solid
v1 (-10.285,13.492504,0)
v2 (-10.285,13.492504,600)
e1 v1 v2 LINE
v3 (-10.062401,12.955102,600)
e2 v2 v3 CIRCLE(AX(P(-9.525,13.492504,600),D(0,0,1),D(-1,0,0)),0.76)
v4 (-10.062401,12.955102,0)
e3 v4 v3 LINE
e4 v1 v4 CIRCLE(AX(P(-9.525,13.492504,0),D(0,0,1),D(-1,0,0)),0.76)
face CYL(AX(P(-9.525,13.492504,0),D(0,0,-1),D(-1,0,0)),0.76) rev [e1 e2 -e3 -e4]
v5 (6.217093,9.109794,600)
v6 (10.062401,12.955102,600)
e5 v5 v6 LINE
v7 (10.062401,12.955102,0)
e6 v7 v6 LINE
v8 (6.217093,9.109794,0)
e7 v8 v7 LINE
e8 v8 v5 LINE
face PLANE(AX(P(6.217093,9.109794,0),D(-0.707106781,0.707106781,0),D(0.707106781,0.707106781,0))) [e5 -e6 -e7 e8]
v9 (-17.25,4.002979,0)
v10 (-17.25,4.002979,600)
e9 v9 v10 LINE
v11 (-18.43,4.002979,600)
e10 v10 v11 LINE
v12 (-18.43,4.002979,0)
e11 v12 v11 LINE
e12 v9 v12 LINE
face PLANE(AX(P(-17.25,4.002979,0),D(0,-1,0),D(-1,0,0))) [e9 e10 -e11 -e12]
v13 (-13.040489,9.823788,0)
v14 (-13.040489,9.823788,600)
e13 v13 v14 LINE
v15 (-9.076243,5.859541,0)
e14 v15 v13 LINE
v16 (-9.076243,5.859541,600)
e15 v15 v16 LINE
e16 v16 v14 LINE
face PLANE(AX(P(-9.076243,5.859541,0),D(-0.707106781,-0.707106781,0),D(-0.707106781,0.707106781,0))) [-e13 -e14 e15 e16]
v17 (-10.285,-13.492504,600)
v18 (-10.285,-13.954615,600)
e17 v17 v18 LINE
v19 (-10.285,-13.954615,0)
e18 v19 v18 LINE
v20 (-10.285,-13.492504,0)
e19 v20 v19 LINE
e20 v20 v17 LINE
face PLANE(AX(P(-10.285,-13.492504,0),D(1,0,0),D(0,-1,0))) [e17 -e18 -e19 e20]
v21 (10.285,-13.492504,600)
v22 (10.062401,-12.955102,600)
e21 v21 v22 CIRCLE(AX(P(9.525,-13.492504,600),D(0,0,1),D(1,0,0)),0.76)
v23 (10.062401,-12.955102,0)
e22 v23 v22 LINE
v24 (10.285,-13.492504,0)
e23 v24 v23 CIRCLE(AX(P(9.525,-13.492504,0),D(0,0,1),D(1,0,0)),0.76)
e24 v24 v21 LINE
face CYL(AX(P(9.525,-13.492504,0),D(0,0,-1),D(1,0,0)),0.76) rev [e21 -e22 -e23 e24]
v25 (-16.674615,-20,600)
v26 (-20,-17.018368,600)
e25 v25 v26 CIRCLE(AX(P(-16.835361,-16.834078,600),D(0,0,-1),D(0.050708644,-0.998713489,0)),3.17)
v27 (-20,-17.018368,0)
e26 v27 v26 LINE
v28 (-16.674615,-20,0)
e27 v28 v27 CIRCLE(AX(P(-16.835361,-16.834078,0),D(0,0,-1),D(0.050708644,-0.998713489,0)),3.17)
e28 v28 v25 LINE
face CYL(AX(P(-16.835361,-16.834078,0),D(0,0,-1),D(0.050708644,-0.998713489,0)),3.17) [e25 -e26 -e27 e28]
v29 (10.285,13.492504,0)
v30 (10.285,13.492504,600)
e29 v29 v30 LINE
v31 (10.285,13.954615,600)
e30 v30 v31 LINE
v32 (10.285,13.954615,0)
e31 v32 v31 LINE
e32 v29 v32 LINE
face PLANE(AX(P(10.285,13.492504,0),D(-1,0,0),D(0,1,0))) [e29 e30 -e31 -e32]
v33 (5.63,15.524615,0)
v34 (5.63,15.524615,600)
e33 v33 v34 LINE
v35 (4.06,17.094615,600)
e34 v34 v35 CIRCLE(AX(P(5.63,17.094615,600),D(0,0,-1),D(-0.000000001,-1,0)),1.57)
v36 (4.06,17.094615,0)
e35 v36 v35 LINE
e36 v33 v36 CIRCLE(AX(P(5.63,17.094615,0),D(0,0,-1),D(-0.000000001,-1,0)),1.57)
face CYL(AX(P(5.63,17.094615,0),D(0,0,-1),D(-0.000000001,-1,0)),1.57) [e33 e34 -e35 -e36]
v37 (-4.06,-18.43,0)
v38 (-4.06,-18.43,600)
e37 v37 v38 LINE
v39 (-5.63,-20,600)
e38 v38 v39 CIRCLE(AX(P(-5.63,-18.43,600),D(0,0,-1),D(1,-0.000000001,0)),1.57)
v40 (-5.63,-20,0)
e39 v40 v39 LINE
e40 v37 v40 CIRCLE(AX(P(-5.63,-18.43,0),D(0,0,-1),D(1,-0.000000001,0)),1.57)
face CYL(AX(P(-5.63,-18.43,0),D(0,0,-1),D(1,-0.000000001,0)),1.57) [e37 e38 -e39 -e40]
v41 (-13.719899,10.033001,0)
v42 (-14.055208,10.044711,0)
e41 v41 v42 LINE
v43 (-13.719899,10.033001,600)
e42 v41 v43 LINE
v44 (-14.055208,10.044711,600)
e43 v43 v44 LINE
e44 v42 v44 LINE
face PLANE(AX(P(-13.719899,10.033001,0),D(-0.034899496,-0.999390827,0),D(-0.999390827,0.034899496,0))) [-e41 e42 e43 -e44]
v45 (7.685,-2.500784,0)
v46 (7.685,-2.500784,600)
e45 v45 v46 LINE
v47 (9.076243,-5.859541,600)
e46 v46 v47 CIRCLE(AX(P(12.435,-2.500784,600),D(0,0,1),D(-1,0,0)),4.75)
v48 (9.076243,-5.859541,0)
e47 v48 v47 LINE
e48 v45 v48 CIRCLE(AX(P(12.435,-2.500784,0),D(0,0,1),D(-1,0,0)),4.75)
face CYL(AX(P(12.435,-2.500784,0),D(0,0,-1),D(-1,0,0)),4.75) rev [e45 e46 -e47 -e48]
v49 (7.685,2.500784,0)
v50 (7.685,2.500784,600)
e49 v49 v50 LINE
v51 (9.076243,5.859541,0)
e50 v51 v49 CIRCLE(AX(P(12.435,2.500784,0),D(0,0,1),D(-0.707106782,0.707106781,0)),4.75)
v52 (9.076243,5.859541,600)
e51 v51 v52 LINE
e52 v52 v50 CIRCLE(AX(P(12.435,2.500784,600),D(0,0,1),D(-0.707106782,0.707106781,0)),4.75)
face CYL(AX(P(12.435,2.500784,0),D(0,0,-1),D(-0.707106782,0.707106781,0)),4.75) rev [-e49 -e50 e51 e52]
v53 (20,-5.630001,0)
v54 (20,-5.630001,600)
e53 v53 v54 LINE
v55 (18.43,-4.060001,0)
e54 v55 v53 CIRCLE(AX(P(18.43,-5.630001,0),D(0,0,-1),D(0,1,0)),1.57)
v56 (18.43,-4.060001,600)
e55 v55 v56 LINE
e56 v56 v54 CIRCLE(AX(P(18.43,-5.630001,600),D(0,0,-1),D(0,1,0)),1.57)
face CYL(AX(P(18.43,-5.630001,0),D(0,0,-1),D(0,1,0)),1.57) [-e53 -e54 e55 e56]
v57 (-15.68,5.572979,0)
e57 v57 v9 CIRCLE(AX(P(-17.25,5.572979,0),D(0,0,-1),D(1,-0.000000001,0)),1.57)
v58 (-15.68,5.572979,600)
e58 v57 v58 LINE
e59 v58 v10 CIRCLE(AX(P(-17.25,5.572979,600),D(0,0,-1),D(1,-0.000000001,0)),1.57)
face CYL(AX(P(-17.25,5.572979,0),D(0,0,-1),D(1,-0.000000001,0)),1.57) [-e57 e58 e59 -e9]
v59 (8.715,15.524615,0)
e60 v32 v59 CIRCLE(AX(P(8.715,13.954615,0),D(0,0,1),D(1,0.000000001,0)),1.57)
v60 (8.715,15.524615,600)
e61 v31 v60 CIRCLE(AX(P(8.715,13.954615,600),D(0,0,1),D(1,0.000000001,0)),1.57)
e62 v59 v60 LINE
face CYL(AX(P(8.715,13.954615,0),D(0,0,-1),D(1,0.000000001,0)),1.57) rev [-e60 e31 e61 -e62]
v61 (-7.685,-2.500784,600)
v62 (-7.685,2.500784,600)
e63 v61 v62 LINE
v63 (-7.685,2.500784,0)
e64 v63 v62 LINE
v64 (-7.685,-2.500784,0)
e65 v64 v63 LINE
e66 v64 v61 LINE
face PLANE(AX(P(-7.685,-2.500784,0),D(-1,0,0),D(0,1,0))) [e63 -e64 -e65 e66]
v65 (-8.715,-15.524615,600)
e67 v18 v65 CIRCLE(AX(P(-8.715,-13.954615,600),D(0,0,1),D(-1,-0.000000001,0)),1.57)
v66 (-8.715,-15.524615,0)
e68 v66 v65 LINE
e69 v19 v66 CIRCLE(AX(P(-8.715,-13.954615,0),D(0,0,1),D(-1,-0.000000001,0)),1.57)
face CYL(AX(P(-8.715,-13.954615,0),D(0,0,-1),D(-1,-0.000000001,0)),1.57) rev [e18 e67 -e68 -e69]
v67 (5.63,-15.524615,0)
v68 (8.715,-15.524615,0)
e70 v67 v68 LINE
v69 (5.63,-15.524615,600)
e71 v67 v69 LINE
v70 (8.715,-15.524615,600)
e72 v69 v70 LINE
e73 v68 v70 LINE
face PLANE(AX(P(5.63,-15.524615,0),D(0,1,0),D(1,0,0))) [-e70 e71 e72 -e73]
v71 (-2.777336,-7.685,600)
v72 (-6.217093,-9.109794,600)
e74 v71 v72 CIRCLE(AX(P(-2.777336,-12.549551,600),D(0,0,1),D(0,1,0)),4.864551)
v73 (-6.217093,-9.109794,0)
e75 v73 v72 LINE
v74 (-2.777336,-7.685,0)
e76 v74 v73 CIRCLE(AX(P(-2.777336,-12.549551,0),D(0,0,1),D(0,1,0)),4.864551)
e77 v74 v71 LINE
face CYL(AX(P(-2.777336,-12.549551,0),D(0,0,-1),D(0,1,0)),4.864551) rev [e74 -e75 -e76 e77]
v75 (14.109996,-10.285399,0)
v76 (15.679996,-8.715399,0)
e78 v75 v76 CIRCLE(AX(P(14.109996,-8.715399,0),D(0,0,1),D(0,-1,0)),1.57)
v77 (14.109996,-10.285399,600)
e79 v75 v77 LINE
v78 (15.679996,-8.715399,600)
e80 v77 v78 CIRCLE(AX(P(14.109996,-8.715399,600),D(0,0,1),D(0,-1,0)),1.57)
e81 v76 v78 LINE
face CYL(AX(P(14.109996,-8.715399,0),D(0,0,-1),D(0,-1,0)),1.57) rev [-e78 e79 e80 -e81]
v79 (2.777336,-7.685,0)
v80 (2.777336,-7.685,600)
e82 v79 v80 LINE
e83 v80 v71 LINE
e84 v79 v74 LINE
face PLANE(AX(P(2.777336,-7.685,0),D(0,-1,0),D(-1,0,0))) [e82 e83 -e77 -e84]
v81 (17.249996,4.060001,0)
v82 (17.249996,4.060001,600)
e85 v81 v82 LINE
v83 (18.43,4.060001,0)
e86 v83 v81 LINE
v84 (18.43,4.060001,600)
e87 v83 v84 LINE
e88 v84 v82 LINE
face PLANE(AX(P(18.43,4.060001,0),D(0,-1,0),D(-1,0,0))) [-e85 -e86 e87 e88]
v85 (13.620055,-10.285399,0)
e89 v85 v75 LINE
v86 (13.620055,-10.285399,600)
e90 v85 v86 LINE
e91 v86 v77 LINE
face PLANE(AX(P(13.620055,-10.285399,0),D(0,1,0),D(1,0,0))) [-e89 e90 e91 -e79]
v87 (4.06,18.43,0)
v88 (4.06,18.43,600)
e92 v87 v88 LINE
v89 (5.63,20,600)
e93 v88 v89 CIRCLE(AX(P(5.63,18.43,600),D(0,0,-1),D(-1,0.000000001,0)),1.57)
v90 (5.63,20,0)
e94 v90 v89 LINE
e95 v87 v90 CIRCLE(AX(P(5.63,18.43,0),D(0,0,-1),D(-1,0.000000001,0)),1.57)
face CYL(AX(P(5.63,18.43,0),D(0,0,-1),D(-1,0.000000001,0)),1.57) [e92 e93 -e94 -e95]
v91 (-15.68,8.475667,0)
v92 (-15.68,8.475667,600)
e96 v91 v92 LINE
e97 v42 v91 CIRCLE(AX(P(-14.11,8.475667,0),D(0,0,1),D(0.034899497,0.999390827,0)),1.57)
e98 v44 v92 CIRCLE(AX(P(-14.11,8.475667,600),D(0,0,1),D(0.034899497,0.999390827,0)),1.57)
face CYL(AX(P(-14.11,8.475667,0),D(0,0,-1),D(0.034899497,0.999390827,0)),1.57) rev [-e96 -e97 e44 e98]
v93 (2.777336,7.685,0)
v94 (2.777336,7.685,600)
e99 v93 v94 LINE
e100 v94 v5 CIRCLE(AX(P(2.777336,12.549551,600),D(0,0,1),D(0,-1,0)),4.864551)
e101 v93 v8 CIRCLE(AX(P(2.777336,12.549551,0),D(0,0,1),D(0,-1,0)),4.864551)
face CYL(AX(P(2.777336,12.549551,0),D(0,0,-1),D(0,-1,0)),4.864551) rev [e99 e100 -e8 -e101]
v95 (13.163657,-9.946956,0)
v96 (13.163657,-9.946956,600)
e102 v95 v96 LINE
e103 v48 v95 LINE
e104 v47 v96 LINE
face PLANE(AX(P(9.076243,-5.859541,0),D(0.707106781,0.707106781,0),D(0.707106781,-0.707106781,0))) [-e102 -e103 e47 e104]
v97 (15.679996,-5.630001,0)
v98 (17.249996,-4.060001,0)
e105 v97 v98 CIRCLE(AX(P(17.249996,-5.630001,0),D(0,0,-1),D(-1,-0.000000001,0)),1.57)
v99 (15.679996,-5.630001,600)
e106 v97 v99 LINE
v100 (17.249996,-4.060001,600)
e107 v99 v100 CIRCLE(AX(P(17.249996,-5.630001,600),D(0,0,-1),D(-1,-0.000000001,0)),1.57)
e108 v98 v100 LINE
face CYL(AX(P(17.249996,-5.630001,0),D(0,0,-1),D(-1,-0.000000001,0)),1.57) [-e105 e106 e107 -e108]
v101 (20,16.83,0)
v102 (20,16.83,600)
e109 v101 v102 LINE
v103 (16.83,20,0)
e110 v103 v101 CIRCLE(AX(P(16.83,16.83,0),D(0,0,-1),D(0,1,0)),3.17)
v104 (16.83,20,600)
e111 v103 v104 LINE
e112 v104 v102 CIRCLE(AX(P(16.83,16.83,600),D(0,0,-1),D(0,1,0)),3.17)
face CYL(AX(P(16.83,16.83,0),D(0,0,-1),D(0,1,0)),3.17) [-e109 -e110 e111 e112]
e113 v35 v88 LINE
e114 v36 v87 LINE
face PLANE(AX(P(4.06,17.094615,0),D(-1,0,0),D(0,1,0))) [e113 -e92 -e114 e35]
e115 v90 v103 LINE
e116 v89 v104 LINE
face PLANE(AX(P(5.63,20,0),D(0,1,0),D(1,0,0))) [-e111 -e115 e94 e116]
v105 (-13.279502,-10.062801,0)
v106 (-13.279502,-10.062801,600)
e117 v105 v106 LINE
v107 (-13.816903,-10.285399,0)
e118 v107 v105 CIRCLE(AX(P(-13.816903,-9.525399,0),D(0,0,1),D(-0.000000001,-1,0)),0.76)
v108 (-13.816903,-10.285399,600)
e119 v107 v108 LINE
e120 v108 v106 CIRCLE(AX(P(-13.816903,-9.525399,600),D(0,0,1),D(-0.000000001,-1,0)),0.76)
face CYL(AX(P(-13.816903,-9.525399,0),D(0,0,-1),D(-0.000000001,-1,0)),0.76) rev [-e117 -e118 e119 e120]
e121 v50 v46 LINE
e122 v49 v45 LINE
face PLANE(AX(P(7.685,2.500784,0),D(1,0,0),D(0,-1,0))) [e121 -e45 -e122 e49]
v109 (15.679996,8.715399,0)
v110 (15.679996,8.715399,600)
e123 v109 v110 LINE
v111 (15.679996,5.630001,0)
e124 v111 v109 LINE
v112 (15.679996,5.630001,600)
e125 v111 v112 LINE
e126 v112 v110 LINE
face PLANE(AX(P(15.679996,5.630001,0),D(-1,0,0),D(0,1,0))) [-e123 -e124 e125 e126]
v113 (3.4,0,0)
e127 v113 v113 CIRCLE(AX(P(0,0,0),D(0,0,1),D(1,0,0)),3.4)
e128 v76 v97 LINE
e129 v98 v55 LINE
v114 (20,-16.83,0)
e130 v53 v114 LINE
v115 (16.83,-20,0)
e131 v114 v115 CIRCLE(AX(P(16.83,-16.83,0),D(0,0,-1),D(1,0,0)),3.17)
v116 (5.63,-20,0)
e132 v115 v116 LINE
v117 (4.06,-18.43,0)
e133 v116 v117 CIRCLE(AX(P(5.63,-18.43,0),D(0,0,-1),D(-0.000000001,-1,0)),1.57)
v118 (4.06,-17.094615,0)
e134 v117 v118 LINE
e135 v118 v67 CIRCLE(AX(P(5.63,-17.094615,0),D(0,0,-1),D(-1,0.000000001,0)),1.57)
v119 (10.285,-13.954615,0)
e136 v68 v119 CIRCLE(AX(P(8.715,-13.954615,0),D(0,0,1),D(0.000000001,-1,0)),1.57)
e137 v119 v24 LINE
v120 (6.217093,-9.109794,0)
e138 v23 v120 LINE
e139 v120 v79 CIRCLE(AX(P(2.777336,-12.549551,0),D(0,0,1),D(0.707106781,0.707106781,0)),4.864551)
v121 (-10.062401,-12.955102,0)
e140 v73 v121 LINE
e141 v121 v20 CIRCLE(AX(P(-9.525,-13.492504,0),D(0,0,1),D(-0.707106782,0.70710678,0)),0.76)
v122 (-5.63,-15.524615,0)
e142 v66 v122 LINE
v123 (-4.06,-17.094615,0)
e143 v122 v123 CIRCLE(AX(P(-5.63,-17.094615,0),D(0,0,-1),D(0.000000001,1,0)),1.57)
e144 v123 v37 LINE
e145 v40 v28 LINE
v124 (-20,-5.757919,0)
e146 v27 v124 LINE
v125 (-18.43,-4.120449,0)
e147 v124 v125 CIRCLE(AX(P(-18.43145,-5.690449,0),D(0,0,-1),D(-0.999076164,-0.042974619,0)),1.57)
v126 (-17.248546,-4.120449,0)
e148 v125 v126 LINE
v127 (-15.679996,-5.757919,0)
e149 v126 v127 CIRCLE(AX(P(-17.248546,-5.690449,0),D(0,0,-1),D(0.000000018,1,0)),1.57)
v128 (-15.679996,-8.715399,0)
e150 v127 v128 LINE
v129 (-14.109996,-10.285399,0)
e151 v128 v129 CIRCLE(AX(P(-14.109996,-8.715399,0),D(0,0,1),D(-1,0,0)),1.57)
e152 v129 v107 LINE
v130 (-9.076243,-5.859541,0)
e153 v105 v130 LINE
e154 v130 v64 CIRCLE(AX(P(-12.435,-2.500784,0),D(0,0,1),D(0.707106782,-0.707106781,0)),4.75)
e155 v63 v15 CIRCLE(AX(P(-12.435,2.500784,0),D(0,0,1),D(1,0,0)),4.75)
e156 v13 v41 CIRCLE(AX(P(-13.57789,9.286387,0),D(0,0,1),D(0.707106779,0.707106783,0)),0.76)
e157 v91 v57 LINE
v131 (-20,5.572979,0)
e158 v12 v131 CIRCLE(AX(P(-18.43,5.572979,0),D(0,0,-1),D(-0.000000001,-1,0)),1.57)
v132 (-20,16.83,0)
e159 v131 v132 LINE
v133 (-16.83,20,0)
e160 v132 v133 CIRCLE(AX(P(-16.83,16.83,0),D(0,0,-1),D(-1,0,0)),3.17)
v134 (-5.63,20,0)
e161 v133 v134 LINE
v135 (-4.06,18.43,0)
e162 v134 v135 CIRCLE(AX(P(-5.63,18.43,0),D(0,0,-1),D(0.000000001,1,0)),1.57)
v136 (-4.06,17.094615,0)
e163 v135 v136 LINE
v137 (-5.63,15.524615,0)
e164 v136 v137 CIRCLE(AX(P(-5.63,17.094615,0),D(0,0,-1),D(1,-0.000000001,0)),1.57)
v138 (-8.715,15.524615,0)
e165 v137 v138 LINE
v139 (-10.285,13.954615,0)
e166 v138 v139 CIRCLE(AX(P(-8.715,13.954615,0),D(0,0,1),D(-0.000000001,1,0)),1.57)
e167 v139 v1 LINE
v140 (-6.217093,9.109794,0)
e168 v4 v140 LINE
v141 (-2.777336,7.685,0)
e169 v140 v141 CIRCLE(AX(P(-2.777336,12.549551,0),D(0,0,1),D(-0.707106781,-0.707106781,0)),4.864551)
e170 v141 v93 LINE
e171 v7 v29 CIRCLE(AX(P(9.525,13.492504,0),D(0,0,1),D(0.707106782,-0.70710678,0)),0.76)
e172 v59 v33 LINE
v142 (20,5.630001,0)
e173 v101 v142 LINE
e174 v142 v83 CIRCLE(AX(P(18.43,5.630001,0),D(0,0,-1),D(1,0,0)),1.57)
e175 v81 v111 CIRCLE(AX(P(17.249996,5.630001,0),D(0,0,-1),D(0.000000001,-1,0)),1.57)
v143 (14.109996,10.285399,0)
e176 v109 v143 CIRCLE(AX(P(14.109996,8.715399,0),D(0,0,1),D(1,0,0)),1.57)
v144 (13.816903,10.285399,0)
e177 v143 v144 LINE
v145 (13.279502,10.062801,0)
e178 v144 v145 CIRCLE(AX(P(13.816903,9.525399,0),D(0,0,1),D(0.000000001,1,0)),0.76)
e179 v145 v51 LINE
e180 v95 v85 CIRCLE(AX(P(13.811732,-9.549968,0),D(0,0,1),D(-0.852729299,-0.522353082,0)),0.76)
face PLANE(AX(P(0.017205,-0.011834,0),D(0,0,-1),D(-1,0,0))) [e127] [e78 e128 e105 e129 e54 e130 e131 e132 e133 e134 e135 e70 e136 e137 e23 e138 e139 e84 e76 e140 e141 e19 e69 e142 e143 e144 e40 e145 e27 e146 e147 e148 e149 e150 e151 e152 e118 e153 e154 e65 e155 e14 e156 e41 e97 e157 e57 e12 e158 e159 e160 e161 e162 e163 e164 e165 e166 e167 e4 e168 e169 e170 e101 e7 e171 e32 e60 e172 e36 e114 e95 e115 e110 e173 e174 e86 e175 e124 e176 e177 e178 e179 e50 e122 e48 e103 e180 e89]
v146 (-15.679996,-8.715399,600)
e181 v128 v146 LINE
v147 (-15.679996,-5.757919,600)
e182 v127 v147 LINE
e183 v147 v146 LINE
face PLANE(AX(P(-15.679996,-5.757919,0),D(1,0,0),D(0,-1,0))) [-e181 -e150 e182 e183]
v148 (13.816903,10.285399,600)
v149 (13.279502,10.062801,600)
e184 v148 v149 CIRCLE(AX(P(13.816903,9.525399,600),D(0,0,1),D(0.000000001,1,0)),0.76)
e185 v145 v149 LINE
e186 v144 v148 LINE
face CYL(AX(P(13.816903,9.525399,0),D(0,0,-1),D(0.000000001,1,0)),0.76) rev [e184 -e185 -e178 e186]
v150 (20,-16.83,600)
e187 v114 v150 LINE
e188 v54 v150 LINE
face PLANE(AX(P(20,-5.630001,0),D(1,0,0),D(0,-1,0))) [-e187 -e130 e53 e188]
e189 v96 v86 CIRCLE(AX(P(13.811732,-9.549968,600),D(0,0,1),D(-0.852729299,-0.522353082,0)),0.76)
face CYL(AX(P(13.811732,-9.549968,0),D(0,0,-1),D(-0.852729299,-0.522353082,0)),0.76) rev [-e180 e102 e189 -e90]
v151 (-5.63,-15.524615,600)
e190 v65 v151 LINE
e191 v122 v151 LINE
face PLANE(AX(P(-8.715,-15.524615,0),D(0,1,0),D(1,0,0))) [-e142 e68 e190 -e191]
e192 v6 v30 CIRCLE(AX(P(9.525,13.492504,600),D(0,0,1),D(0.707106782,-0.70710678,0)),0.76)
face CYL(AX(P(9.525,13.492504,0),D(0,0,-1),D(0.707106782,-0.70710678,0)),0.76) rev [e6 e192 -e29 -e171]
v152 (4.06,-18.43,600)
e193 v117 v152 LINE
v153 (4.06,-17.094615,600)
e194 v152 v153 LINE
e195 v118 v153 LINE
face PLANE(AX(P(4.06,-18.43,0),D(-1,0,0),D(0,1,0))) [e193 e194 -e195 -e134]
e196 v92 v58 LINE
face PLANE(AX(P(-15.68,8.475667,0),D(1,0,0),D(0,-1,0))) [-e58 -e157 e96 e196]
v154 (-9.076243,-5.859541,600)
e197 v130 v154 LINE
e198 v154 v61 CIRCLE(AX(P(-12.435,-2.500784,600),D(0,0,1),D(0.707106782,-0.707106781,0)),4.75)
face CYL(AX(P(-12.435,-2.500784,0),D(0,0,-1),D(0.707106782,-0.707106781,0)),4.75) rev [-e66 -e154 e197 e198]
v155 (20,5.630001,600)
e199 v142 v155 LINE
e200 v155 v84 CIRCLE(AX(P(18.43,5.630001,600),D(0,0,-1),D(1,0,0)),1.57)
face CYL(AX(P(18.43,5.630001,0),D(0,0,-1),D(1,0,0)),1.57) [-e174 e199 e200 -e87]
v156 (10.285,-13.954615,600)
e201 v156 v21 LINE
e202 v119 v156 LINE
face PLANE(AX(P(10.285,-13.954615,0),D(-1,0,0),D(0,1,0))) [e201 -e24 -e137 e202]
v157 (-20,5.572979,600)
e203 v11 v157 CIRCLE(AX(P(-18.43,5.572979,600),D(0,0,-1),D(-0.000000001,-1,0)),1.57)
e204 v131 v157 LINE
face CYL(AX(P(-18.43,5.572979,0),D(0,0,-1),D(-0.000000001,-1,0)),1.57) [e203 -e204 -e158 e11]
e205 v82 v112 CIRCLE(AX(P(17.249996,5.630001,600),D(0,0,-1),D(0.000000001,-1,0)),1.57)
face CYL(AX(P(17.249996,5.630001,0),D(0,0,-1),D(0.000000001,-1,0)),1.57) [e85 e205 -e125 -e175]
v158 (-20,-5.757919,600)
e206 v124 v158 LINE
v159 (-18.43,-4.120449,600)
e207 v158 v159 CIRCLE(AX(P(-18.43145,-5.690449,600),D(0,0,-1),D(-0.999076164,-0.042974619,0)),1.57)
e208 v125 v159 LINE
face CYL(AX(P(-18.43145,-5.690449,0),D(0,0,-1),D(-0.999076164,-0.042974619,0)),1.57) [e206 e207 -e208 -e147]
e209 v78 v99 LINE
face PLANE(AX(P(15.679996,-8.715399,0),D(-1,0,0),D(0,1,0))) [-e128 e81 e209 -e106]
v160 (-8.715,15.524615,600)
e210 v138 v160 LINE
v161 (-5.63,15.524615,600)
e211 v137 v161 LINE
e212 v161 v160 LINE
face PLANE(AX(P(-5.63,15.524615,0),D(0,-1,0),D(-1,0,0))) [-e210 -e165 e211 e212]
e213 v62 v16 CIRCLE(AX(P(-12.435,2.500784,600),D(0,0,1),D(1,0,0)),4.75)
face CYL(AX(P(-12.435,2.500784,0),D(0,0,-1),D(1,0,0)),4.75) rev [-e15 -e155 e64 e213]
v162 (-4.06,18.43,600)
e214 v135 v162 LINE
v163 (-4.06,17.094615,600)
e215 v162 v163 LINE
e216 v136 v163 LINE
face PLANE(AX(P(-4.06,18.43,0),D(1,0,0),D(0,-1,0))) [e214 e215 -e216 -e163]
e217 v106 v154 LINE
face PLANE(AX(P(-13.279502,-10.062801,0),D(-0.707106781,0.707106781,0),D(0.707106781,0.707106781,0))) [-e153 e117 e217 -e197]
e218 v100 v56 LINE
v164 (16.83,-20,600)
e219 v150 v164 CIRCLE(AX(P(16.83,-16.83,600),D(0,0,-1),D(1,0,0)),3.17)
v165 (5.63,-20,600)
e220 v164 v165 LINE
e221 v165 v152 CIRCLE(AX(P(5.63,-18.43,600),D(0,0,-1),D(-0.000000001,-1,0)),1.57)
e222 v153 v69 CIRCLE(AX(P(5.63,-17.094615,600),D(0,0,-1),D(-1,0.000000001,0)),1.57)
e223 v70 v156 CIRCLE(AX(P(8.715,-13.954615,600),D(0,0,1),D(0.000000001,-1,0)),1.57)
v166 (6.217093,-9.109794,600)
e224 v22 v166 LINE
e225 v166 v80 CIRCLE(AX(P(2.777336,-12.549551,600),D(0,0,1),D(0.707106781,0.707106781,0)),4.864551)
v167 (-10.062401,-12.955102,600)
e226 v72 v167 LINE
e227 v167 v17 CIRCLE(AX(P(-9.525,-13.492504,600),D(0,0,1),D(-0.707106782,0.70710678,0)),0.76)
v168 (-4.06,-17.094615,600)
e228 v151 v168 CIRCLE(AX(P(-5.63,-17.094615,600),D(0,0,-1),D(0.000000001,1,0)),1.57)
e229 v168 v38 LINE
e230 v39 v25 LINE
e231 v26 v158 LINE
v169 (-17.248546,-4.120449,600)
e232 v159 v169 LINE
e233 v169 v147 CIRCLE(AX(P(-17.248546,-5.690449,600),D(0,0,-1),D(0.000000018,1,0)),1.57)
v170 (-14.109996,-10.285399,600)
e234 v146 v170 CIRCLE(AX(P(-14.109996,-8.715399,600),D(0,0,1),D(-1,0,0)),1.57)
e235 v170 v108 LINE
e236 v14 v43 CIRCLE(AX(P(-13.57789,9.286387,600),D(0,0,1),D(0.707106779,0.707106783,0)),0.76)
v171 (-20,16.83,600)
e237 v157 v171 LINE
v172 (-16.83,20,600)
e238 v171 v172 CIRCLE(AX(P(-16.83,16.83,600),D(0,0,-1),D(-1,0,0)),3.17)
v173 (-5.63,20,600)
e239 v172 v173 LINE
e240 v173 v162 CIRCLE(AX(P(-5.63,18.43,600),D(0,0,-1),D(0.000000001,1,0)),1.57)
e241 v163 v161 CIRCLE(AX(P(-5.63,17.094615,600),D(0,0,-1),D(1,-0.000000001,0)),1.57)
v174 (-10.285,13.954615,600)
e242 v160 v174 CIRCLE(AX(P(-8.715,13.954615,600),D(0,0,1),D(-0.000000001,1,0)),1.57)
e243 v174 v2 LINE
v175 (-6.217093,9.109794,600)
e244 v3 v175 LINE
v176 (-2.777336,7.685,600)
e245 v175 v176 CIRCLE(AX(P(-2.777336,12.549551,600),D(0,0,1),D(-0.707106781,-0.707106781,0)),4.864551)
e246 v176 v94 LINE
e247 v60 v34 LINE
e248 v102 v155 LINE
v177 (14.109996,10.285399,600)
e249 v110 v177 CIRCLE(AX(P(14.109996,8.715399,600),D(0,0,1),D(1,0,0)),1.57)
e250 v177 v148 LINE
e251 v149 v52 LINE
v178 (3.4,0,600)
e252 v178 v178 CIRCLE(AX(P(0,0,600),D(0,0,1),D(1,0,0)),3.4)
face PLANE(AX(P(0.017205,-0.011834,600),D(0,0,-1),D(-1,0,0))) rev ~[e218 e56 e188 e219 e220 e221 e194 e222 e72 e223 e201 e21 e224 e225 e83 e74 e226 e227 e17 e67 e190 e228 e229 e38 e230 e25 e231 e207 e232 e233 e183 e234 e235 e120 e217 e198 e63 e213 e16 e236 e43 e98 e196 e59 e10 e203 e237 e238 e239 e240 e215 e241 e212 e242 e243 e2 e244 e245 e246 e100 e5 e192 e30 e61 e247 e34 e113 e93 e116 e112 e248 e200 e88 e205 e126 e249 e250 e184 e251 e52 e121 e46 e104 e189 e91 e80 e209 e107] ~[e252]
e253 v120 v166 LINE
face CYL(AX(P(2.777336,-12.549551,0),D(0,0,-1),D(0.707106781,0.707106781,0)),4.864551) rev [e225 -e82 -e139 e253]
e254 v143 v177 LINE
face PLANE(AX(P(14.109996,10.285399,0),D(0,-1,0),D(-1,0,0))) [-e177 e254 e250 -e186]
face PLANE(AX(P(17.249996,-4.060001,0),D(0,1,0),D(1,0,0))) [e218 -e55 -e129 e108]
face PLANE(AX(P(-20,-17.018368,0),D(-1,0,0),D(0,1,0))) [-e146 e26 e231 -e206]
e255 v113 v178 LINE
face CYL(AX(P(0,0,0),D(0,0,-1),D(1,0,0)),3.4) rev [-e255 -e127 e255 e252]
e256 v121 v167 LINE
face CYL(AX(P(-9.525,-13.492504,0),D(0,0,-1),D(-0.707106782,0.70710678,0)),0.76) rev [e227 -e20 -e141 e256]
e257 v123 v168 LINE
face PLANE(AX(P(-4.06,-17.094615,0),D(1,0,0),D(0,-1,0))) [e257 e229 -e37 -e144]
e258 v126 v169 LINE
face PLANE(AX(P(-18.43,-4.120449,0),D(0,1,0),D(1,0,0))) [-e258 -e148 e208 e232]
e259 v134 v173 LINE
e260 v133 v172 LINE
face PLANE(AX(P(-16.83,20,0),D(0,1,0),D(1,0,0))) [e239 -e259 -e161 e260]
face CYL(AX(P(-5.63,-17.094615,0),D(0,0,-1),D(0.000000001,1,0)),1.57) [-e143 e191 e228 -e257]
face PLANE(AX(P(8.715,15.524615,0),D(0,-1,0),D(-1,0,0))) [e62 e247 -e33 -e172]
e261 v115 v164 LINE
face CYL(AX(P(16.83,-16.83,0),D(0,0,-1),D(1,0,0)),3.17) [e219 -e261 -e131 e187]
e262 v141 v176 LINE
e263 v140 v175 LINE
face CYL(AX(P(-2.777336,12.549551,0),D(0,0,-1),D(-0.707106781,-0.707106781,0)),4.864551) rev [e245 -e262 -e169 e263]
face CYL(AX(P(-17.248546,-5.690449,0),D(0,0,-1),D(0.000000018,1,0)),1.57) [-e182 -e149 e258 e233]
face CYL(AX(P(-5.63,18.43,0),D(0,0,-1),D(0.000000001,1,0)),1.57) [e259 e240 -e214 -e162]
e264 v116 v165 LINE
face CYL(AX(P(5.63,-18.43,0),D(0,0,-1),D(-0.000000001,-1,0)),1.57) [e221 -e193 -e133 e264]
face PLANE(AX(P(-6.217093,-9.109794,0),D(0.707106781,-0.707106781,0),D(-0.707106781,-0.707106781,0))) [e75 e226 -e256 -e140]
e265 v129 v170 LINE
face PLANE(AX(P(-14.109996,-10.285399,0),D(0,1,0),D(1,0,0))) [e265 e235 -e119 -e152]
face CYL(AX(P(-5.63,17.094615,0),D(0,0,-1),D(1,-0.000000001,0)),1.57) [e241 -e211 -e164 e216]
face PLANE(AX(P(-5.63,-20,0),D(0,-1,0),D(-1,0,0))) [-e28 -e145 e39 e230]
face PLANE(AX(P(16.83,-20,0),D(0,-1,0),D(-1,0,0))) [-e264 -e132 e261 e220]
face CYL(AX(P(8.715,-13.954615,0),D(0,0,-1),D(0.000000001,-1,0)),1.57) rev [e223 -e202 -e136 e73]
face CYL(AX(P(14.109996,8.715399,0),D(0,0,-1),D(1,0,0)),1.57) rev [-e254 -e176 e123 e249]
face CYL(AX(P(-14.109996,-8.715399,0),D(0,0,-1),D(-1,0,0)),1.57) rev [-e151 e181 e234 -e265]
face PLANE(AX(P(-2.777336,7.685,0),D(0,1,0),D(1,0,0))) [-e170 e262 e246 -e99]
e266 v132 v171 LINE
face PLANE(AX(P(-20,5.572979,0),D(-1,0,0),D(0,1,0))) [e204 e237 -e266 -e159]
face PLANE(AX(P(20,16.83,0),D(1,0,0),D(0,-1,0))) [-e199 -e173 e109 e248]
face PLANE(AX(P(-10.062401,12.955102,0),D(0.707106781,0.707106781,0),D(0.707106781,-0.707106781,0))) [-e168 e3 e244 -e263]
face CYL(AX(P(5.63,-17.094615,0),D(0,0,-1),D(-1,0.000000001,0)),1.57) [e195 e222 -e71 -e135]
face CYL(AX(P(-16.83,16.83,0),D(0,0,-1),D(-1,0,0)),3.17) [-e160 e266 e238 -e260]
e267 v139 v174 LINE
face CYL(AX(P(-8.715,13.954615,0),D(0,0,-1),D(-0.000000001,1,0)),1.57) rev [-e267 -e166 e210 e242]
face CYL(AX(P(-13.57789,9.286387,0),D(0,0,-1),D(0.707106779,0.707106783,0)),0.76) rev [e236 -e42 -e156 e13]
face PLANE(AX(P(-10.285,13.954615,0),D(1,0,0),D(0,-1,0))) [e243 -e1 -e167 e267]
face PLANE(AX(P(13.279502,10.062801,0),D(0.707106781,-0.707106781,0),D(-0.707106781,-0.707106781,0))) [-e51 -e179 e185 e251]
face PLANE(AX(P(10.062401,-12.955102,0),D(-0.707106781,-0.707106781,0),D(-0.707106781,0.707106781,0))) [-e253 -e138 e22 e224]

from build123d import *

# Parameters (mm, degrees)
SKETCH1_R           = 3.4
BOSS_EXTRUDE1_DEPTH = 600


with BuildPart() as part:
    # Sketch1 → Boss-Extrude1 (new body)
    with BuildSketch(Plane.XY):
        with BuildLine():
            Line((-8.715, -15.524615034), (-5.63, -15.524615034))
            ThreePointArc((-5.63, -15.524615034), (-4.519842354, -15.984457388), (-4.06, -17.094615034))
            Line((-4.06, -17.094615034), (-4.06, -18.43))
            ThreePointArc((-4.06, -18.43), (-4.519842354, -19.540157646), (-5.63, -20))
            Line((-5.63, -20), (-16.674615034, -20))
            ThreePointArc((-16.674615034, -20), (-18.951578385, -19.194274381), (-20, -17.018368134))
            Line((-20, -17.018368134), (-20, -5.757918808))
            ThreePointArc((-20, -5.757918808), (-19.564709668, -4.603883664), (-18.43, -4.120449326))
            Line((-18.43, -4.120449326), (-17.248545805, -4.120449326))
            ThreePointArc((-17.248545805, -4.120449326), (-16.114784845, -4.604407881), (-15.67999625, -5.757919334))
            Line((-15.67999625, -5.757919334), (-15.67999625, -8.715399492))
            ThreePointArc((-15.67999625, -8.715399492), (-15.220153896, -9.825557139), (-14.10999625, -10.285399492))
            Line((-14.10999625, -10.285399492), (-13.816903094, -10.285399492))
            ThreePointArc((-13.816903094, -10.285399492), (-13.526063686, -10.227547937), (-13.279501941, -10.062800646))
            Line((-13.279501941, -10.062800646), (-9.076242789, -5.859541495))
            ThreePointArc((-9.076242789, -5.859541495), (-8.046572221, -4.318530588), (-7.685, -2.500784284))
            Line((-7.685, -2.500784284), (-7.685, 2.500784284))
            ThreePointArc((-7.685, 2.500784284), (-8.046572221, 4.318530588), (-9.076242789, 5.859541495))
            Line((-9.076242789, 5.859541495), (-13.040489136, 9.823787841))
            ThreePointArc((-13.040489136, 9.823787841), (-13.354224618, 10.012729352), (-13.71989919, 10.033001362))
            Line((-13.71989919, 10.033001362), (-14.05520779, 10.044710596))
            ThreePointArc((-14.05520779, 10.044710596), (-15.200613642, 9.605030484), (-15.68, 8.475666998))
            Line((-15.68, 8.475666998), (-15.68, 5.572979049))
            ThreePointArc((-15.68, 5.572979049), (-16.139842354, 4.462821403), (-17.25, 4.002979049))
            Line((-17.25, 4.002979049), (-18.43, 4.002979049))
            ThreePointArc((-18.43, 4.002979049), (-19.540157646, 4.462821403), (-20, 5.572979049))
            Line((-20, 5.572979049), (-20, 13.004526564))
            Line((-20, 13.004526564), (-20, 16.83))
            ThreePointArc((-20, 16.83), (-19.071528496, 19.071528496), (-16.83, 20))
            Line((-16.83, 20), (-5.63, 20))
            ThreePointArc((-5.63, 20), (-4.519842354, 19.540157646), (-4.06, 18.43))
            Line((-4.06, 18.43), (-4.06, 17.094615034))
            ThreePointArc((-4.06, 17.094615034), (-4.519842354, 15.984457388), (-5.63, 15.524615034))
            Line((-5.63, 15.524615034), (-8.715, 15.524615034))
            ThreePointArc((-8.715, 15.524615034), (-9.825157646, 15.06477268), (-10.285, 13.954615034))
            Line((-10.285, 13.954615034), (-10.285, 13.492503602))
            ThreePointArc((-10.285, 13.492503602), (-10.227148445, 13.201664194), (-10.062401154, 12.955102448))
            Line((-10.062401154, 12.955102448), (-6.217092793, 9.109794088))
            ThreePointArc((-6.217092793, 9.109794088), (-4.63891877, 8.055291919), (-2.777335583, 7.685))
            Line((-2.777335583, 7.685), (2.777335583, 7.685))
            ThreePointArc((2.777335583, 7.685), (4.63891877, 8.055291919), (6.217092793, 9.109794088))
            Line((6.217092793, 9.109794088), (10.062401154, 12.955102448))
            ThreePointArc((10.062401154, 12.955102448), (10.227148445, 13.201664194), (10.285, 13.492503602))
            Line((10.285, 13.492503602), (10.285, 13.954615034))
            ThreePointArc((10.285, 13.954615034), (9.825157646, 15.06477268), (8.715, 15.524615034))
            Line((8.715, 15.524615034), (5.63, 15.524615034))
            ThreePointArc((5.63, 15.524615034), (4.519842354, 15.984457388), (4.06, 17.094615034))
            Line((4.06, 17.094615034), (4.06, 18.43))
            ThreePointArc((4.06, 18.43), (4.519842354, 19.540157646), (5.63, 20))
            Line((5.63, 20), (12.979635074, 20))
            Line((12.979635074, 20), (16.83, 20))
            ThreePointArc((16.83, 20), (19.071528496, 19.071528496), (20, 16.83))
            Line((20, 16.83), (20, 13.001098436))
            Line((20, 13.001098436), (20, 5.630000526))
            ThreePointArc((20, 5.630000526), (19.540157646, 4.519842879), (18.43, 4.060000526))
            Line((18.43, 4.060000526), (17.24999625, 4.060000526))
            ThreePointArc((17.24999625, 4.060000526), (16.139838603, 4.519842879), (15.67999625, 5.630000526))
            Line((15.67999625, 5.630000526), (15.67999625, 8.715399492))
            ThreePointArc((15.67999625, 8.715399492), (15.220153896, 9.825557139), (14.10999625, 10.285399492))
            Line((14.10999625, 10.285399492), (13.816903094, 10.285399492))
            ThreePointArc((13.816903094, 10.285399492), (13.526063686, 10.227547937), (13.279501941, 10.062800646))
            Line((13.279501941, 10.062800646), (9.076242789, 5.859541495))
            ThreePointArc((9.076242789, 5.859541495), (8.046572221, 4.318530588), (7.685, 2.500784284))
            Line((7.685, 2.500784284), (7.685, -2.500784284))
            ThreePointArc((7.685, -2.500784284), (8.046572221, -4.318530588), (9.076242789, -5.859541495))
            Line((9.076242789, -5.859541495), (13.163657296, -9.946956002))
            ThreePointArc((13.163657296, -9.946956002), (13.35903797, -10.160433474), (13.6200547, -10.285399492))
            Line((13.6200547, -10.285399492), (14.10999625, -10.285399492))
            ThreePointArc((14.10999625, -10.285399492), (15.220153896, -9.825557139), (15.67999625, -8.715399492))
            Line((15.67999625, -8.715399492), (15.67999625, -5.630000526))
            ThreePointArc((15.67999625, -5.630000526), (16.139838603, -4.519842879), (17.24999625, -4.060000526))
            Line((17.24999625, -4.060000526), (18.43, -4.060000526))
            ThreePointArc((18.43, -4.060000526), (19.540157646, -4.519842879), (20, -5.630000526))
            Line((20, -5.630000526), (20, -16.83))
            ThreePointArc((20, -16.83), (19.071528496, -19.071528496), (16.83, -20))
            Line((16.83, -20), (13, -20))
            Line((13, -20), (5.63, -20))
            ThreePointArc((5.63, -20), (4.519842354, -19.540157646), (4.06, -18.43))
            Line((4.06, -18.43), (4.06, -17.094615034))
            ThreePointArc((4.06, -17.094615034), (4.519842354, -15.984457388), (5.63, -15.524615034))
            Line((5.63, -15.524615034), (8.715, -15.524615034))
            ThreePointArc((8.715, -15.524615034), (9.825157646, -15.06477268), (10.285, -13.954615034))
            Line((10.285, -13.954615034), (10.285, -13.492503602))
            ThreePointArc((10.285, -13.492503602), (10.227148445, -13.201664194), (10.062401154, -12.955102448))
            Line((10.062401154, -12.955102448), (6.217092793, -9.109794088))
            ThreePointArc((6.217092793, -9.109794088), (4.63891877, -8.055291919), (2.777335583, -7.685))
            Line((2.777335583, -7.685), (-2.777335583, -7.685))
            ThreePointArc((-2.777335583, -7.685), (-4.63891877, -8.055291919), (-6.217092793, -9.109794088))
            Line((-6.217092793, -9.109794088), (-10.062401154, -12.955102448))
            ThreePointArc((-10.062401154, -12.955102448), (-10.227148445, -13.201664194), (-10.285, -13.492503602))
            Line((-10.285, -13.492503602), (-10.285, -13.954615034))
            ThreePointArc((-10.285, -13.954615034), (-9.825157646, -15.06477268), (-8.715, -15.524615034))
        make_face()
        Circle(SKETCH1_R, mode=Mode.SUBTRACT)
    extrude(amount=BOSS_EXTRUDE1_DEPTH)


solid = part.part
